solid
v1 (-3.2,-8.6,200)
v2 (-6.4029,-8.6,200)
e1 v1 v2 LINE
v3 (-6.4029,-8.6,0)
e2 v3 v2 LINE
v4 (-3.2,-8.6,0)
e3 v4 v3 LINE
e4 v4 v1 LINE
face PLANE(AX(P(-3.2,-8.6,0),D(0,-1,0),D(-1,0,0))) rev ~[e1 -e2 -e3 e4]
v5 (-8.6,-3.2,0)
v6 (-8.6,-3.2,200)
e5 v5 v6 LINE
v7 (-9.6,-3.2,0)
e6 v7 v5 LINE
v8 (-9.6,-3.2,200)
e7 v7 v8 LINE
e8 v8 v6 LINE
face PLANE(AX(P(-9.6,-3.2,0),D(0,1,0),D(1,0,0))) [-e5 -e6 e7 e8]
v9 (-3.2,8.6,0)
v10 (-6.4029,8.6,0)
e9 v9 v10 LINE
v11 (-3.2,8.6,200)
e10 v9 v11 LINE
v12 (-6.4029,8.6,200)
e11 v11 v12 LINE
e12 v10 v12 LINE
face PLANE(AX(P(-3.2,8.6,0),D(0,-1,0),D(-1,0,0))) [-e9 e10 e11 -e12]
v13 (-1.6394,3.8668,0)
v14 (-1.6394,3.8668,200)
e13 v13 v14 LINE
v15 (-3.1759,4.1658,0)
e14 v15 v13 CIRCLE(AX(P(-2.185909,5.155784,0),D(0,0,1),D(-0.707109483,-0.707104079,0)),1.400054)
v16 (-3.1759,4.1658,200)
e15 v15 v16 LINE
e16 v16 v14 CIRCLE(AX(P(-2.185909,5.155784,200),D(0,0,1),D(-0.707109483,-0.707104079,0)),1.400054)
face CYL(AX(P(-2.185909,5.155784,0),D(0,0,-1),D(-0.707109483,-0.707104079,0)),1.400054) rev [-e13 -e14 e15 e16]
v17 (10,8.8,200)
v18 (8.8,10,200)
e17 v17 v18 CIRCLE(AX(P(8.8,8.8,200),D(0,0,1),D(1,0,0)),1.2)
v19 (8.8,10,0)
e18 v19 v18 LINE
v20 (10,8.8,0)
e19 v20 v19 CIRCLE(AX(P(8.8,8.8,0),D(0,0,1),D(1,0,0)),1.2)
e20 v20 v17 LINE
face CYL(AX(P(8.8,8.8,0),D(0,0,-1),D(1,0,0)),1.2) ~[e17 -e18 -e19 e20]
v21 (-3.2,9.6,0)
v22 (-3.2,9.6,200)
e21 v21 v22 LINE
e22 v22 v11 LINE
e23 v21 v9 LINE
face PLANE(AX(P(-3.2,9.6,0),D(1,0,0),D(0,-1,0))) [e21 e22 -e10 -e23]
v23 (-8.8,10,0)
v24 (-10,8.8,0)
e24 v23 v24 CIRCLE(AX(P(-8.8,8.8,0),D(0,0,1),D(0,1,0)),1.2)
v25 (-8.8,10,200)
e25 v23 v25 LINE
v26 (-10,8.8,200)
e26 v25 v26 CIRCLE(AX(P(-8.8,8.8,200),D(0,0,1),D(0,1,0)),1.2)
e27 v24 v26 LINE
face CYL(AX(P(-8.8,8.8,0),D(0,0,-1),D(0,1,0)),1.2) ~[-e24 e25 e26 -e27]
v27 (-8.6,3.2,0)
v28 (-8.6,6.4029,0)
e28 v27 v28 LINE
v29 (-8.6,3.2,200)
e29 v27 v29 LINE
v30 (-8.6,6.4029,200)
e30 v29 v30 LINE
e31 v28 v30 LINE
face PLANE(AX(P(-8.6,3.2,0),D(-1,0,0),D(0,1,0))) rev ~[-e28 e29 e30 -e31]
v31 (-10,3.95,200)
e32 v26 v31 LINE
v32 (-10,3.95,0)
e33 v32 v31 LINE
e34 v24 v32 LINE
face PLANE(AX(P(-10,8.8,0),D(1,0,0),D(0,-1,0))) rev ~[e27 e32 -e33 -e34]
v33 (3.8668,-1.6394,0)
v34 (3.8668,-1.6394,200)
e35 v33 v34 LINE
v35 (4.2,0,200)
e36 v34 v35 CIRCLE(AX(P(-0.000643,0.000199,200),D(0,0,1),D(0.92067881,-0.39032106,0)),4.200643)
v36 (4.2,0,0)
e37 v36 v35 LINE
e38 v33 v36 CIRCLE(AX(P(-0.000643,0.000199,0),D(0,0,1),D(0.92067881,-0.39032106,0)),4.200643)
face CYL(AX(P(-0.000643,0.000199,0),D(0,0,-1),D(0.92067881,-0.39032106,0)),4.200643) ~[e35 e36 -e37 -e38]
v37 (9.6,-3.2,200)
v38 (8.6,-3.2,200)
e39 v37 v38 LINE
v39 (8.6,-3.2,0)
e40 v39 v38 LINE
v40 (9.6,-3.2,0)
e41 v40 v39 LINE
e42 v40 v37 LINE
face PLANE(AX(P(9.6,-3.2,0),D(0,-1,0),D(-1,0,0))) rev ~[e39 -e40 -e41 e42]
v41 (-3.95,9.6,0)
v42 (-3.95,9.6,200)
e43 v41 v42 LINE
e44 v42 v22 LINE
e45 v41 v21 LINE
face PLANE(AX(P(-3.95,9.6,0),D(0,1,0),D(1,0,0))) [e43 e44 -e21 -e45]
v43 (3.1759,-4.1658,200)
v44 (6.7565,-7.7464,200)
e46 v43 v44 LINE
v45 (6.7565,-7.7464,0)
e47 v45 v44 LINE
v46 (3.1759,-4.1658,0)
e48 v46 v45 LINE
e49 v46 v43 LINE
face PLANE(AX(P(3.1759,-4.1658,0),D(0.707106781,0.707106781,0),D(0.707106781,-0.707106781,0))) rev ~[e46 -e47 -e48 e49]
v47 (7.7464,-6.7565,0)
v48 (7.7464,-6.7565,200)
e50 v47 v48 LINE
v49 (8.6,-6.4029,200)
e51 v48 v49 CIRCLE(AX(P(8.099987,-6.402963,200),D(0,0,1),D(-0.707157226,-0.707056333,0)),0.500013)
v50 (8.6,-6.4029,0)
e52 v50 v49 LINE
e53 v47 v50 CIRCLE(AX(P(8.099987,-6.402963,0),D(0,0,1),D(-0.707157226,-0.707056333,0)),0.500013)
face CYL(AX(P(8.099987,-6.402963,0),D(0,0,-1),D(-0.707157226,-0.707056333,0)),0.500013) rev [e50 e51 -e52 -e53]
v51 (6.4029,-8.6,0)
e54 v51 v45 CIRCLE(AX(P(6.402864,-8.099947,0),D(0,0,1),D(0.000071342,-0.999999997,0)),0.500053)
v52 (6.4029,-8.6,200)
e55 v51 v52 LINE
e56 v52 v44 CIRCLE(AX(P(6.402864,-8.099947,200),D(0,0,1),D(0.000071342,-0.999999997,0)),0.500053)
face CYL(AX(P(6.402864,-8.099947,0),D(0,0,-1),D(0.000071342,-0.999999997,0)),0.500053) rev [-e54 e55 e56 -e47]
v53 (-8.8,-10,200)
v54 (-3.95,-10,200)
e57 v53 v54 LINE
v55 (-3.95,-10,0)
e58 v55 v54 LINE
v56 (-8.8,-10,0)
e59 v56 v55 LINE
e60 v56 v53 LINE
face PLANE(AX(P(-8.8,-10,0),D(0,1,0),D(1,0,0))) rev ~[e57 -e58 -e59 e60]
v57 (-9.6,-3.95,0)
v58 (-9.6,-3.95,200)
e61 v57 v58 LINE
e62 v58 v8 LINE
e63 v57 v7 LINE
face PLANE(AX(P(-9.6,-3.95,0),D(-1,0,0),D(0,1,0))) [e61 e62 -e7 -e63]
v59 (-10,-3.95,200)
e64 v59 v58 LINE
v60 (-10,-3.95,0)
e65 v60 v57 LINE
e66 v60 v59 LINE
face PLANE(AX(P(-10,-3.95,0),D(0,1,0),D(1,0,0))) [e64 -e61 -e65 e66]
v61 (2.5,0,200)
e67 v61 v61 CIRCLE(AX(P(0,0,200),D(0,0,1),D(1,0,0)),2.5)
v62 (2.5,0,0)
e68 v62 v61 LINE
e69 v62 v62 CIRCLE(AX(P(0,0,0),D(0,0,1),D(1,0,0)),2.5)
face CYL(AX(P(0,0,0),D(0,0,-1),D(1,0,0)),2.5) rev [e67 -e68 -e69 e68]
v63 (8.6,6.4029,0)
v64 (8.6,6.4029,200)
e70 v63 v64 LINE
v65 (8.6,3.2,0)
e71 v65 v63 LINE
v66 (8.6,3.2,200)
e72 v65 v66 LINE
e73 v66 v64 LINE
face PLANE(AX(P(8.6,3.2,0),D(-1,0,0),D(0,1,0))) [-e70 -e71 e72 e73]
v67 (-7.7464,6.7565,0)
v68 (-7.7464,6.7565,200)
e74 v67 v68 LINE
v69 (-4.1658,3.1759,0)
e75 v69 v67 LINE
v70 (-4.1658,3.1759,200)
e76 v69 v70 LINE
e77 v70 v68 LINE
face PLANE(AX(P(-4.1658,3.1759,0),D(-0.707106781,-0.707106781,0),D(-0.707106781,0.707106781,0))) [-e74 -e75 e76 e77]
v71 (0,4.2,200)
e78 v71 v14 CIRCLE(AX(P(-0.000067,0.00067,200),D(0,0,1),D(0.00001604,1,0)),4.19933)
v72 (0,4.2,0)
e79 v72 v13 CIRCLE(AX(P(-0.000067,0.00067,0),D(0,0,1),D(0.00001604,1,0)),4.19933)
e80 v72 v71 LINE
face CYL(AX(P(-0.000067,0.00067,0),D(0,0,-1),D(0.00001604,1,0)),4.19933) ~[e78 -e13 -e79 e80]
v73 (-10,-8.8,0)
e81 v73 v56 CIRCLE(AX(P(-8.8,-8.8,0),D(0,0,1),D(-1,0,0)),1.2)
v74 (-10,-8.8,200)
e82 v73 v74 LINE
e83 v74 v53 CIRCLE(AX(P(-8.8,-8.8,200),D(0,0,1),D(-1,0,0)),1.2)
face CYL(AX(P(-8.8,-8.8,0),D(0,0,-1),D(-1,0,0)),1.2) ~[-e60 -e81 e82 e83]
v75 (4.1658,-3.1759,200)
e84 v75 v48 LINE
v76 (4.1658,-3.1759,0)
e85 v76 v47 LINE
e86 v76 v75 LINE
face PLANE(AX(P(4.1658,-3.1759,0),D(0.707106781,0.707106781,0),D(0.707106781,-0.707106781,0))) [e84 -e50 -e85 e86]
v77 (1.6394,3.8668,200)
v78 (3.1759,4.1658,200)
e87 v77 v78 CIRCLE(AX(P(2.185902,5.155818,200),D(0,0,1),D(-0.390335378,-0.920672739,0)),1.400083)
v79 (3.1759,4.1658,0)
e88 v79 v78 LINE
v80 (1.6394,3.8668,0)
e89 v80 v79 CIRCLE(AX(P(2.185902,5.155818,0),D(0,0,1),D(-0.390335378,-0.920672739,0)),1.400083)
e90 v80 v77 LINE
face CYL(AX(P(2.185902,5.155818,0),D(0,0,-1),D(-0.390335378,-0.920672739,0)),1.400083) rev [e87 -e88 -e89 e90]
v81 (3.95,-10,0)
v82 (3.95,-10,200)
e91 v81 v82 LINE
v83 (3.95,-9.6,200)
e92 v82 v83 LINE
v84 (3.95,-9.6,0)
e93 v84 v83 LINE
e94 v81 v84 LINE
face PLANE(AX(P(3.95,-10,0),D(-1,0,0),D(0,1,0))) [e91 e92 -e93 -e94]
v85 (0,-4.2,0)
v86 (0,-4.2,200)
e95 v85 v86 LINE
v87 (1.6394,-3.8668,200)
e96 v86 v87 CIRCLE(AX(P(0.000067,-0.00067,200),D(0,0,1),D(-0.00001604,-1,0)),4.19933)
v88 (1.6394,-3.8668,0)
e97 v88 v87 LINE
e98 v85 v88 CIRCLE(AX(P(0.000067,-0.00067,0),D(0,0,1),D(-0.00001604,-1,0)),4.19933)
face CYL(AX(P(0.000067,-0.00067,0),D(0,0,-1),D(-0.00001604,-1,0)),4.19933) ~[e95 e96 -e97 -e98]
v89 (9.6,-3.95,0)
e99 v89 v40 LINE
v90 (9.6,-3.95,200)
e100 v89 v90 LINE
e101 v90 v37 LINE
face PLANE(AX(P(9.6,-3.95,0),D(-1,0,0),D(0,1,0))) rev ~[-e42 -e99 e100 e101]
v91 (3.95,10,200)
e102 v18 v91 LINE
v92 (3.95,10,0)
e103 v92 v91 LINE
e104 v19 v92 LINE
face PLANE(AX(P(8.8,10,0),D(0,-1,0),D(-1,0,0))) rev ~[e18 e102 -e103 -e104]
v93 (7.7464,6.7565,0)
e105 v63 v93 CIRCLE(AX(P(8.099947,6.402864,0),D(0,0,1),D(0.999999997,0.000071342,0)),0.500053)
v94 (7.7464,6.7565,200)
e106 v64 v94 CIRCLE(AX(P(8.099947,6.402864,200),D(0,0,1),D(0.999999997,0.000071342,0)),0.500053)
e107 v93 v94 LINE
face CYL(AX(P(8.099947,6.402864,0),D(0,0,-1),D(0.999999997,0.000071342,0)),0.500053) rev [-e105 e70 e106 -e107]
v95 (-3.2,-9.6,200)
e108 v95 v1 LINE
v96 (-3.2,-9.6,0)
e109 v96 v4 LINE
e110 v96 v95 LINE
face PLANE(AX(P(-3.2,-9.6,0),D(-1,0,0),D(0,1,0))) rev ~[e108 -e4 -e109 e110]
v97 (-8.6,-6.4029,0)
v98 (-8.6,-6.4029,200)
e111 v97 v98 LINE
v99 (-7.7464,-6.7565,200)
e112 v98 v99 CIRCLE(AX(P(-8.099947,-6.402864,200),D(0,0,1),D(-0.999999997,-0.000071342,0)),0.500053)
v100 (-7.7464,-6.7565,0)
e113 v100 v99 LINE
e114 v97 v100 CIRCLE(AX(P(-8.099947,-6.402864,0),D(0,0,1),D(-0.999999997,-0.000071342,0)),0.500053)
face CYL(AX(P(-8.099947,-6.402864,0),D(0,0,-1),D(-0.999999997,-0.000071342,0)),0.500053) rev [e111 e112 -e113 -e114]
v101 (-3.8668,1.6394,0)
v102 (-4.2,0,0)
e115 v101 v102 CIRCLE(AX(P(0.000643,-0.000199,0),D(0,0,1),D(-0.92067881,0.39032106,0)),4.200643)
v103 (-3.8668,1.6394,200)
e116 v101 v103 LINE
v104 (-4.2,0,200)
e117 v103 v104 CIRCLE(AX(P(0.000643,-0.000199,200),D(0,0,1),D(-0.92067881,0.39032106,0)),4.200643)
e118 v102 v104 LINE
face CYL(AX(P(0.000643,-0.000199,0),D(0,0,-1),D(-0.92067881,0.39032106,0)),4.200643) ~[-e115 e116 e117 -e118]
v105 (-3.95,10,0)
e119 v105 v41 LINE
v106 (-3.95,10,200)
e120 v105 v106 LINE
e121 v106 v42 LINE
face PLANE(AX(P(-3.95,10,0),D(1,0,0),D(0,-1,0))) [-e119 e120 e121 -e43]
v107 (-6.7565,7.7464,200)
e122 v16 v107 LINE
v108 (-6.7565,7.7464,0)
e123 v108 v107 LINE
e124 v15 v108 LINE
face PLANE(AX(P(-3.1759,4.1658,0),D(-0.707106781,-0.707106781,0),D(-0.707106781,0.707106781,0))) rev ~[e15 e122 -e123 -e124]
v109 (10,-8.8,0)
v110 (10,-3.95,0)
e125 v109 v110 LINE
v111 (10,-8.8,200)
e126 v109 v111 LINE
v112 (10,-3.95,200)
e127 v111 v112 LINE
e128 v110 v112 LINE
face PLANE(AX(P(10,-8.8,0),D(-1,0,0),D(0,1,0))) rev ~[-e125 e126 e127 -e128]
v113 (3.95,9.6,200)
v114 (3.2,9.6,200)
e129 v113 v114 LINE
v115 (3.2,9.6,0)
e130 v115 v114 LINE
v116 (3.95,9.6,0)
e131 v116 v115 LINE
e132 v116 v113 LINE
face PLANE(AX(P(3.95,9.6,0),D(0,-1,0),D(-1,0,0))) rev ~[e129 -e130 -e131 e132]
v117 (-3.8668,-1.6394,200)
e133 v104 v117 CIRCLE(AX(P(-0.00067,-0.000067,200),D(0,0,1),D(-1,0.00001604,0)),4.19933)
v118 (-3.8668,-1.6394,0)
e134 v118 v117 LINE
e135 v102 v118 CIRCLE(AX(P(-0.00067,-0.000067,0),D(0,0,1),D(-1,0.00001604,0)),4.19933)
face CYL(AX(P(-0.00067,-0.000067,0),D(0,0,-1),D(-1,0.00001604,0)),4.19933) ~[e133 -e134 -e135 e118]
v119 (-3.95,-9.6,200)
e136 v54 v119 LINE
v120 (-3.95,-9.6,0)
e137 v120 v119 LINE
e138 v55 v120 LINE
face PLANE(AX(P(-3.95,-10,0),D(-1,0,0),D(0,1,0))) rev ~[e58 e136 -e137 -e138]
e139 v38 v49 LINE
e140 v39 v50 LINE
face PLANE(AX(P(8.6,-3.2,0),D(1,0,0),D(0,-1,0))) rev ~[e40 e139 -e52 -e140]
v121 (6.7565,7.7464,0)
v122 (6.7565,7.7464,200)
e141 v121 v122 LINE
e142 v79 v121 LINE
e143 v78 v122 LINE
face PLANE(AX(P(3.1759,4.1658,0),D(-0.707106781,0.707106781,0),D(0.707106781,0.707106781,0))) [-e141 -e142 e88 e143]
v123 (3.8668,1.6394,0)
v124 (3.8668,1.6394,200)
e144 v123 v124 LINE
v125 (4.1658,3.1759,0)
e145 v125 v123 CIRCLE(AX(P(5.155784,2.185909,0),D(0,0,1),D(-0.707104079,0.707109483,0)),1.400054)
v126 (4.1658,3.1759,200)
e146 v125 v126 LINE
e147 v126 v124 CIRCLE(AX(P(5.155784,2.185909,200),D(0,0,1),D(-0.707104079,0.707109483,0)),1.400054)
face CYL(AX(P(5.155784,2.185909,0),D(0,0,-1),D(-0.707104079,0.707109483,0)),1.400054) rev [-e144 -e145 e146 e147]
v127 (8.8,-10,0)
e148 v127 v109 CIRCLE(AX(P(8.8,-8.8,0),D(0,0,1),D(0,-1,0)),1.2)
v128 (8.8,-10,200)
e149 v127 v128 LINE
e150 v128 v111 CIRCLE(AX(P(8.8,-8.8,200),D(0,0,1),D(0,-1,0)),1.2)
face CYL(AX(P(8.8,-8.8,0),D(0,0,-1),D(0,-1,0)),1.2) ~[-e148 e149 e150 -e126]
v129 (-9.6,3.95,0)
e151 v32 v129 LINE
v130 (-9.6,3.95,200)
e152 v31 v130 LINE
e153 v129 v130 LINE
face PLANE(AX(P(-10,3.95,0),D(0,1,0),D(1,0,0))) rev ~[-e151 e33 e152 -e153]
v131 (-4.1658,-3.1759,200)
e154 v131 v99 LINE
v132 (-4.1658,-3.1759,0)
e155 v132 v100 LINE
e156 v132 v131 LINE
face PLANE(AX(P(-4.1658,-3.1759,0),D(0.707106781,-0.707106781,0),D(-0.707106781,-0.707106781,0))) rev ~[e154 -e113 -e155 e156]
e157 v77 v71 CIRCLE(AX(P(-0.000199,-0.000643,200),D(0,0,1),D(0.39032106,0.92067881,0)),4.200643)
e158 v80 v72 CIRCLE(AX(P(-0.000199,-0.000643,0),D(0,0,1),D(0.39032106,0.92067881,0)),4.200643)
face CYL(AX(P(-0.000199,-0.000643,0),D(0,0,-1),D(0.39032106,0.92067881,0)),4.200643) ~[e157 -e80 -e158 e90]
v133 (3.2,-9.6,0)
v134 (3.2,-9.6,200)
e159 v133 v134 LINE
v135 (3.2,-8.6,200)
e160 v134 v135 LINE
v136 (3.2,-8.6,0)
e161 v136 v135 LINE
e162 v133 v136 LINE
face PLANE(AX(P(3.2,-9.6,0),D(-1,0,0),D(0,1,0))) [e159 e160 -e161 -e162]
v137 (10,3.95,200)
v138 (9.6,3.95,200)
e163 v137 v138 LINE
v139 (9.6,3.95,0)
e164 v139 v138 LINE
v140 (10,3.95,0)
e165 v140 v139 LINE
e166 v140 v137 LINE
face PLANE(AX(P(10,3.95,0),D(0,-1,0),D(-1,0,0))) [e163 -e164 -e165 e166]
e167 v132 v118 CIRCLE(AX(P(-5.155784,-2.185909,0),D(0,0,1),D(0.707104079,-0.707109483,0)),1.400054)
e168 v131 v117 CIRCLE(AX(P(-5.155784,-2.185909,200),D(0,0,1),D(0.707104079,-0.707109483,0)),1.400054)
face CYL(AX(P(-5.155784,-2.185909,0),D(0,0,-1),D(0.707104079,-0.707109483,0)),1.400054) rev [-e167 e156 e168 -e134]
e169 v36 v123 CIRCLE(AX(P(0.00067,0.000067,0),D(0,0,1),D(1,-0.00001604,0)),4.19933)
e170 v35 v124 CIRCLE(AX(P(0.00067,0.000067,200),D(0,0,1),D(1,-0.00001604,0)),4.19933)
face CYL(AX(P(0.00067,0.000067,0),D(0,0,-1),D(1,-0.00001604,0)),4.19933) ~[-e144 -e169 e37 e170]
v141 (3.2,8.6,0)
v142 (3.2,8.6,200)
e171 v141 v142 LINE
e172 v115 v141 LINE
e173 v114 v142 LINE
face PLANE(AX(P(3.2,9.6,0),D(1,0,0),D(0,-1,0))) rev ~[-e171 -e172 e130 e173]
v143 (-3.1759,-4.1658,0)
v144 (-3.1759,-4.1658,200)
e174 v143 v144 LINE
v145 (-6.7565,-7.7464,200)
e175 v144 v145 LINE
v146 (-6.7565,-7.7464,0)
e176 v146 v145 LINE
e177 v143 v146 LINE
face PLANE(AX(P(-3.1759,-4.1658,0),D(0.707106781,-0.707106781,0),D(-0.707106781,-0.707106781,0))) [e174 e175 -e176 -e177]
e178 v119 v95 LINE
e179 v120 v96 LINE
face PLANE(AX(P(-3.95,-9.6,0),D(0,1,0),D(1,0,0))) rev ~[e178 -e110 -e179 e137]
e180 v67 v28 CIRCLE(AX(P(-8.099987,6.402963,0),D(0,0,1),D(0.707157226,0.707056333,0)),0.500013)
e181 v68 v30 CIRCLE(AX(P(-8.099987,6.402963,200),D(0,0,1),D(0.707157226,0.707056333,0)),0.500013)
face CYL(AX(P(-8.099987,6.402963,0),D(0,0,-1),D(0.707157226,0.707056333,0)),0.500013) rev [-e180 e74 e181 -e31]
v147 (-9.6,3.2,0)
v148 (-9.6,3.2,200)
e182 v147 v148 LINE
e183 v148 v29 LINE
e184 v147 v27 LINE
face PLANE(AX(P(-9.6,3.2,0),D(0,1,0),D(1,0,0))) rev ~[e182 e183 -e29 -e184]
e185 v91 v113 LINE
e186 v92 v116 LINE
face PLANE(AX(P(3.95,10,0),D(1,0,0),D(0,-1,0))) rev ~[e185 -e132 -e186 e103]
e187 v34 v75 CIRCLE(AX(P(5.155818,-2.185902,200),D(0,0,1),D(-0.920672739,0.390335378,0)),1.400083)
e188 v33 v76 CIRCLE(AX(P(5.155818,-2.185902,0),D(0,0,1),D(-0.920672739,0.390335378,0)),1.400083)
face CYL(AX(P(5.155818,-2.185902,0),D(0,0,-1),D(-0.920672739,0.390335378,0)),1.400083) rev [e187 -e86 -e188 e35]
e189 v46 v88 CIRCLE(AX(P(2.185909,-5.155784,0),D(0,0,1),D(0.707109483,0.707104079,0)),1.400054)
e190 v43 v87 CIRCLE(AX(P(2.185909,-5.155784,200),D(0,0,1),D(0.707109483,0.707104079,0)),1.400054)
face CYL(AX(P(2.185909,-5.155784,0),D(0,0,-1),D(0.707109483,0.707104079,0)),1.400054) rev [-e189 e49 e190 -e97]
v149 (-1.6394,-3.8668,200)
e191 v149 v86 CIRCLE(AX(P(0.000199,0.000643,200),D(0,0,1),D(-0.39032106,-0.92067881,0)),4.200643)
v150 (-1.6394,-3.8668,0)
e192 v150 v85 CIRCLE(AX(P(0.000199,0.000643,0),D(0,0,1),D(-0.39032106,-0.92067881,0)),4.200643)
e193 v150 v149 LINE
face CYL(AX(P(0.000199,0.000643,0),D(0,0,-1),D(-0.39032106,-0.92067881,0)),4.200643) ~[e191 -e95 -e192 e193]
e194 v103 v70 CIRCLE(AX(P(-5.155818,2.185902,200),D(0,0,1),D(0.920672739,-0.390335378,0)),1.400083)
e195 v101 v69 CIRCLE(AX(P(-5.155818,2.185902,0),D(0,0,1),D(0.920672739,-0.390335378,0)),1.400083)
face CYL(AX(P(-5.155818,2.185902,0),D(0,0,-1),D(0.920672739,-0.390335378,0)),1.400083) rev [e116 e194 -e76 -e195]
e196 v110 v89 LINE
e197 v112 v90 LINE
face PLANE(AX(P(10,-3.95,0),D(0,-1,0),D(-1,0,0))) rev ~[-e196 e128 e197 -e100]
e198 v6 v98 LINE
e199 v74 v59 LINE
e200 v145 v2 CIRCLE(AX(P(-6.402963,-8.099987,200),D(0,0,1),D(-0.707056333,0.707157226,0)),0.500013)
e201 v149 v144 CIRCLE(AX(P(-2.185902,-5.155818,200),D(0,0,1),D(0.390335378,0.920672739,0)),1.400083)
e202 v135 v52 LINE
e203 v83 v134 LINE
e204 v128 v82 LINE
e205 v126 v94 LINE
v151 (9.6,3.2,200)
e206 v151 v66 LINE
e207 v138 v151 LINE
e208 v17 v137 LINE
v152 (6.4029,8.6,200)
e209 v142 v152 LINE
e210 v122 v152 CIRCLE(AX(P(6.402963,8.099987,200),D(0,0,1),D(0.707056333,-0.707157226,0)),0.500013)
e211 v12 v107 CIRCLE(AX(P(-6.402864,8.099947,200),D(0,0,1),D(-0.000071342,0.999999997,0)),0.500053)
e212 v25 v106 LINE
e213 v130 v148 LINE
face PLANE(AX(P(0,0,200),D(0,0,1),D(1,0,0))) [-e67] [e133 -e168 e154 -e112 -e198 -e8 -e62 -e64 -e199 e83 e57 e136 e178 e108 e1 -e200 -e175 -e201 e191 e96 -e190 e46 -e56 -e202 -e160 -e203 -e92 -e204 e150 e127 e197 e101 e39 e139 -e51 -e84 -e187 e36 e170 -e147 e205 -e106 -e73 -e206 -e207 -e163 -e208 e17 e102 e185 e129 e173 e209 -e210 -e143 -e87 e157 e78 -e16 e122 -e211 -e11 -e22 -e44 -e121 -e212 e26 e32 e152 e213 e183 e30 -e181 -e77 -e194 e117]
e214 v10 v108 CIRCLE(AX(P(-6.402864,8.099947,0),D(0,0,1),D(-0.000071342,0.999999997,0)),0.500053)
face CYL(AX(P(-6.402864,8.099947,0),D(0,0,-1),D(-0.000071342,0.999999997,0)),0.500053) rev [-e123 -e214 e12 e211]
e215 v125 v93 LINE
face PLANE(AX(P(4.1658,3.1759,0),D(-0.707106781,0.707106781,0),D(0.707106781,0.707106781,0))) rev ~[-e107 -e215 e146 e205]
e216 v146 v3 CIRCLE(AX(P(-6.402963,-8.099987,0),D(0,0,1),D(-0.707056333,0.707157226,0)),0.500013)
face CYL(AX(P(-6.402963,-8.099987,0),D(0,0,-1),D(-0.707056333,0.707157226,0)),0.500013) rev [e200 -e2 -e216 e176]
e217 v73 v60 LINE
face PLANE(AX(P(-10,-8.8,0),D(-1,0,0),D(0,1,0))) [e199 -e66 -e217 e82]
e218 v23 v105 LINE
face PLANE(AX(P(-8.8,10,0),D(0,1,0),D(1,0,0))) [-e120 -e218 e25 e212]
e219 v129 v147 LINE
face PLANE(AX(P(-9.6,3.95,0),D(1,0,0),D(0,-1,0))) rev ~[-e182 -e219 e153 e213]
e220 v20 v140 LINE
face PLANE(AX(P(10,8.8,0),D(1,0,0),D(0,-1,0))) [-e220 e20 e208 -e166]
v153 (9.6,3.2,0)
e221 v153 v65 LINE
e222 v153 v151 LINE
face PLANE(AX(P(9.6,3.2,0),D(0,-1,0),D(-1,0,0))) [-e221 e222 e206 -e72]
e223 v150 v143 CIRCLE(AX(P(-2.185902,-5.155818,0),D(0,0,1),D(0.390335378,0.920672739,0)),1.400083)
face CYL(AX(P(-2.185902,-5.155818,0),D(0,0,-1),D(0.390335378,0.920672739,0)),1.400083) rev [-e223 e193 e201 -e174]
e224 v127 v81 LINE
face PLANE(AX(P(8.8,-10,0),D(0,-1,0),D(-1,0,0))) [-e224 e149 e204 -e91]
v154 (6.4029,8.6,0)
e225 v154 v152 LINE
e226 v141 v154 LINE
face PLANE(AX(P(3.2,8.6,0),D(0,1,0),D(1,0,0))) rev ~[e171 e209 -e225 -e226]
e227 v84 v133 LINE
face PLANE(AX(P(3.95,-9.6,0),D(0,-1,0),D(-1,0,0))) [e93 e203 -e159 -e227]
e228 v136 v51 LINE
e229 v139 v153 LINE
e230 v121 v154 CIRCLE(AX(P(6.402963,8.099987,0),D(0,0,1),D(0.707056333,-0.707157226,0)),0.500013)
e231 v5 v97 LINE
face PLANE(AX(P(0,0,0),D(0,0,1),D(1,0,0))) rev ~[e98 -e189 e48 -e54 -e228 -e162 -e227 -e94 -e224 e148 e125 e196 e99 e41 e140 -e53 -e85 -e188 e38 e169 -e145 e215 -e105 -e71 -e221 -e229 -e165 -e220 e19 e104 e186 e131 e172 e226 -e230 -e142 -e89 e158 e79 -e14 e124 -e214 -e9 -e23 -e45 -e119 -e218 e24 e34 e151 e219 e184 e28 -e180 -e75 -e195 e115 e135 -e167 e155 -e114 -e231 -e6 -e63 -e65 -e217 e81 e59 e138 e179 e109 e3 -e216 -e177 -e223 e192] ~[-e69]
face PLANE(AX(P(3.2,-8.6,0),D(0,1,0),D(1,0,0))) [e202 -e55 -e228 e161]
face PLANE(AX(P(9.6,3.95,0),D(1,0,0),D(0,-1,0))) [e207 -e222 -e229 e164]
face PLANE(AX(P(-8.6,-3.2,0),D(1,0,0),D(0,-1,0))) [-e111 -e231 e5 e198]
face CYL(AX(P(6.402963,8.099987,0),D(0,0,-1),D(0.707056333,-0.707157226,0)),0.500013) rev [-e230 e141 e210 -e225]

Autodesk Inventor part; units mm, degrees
ref_plane "YZ Plane" through (0, 0, 0) normal (1, 0, 0) x (0, 1, 0)
ref_plane "Start Plane" through (0, 0, 0) normal (0, 0, 1) x (1, 0, 0)
ref_plane "End Plane" through (0, 0, 200) normal (0, 0, 1) x (1, 0, 0)
sketch "Sketch" plane through (0, 0, 0) normal (0, 0, 1) x (1, 0, 0)
  circle A0 centre (0, 0) radius 2.5
  circle A1 centre (0, 0) radius 4.2 construction
  line L0 (10, -10) -> (-10, -10) construction
  line L1 (-10, -10) -> (-10, 10) construction
  line L2 (-10, 10) -> (10, 10) construction
  line L3 (10, 10) -> (10, -10) construction
  line L4 (10, -10) -> (-10, 10) construction
  line L5 (-10, -10) -> (10, 10) construction
  line L6 (-4.1658, 3.1759) -> (-7.7464, 6.7565)
  line L7 (-10, 8.8) -> (-10, 3.95)
  line L8 (-10, 3.95) -> (-9.6, 3.95)
  line L9 (-9.6, 3.95) -> (-9.6, 3.2)
  line L10 (-9.6, 3.2) -> (-8.6, 3.2)
  line L11 (-8.6, 3.2) -> (-8.6, 6.4029)
  line L12 (-10, 0) -> (0, 0) construction
  line L13 (-8.8, 10) -> (-3.95, 10)
  line L14 (-3.95, 10) -> (-3.95, 9.6)
  line L15 (-3.95, 9.6) -> (-3.2, 9.6)
  line L16 (-3.2, 9.6) -> (-3.2, 8.6)
  line L17 (-3.2, 8.6) -> (-6.4029, 8.6)
  arc A2 (-8.8, 10) -> (-10, 8.8) centre (-8.8, 8.8) ccw
  arc A3 (-6.4029, 8.6) -> (-6.7565, 7.7464) centre (-6.4029, 8.1) ccw
  arc A4 (-7.7464, 6.7565) -> (-8.6, 6.4029) centre (-8.1, 6.4029) ccw
  arc A5 (-3.8668, 1.6394) -> (-4.2, 0) centre (0, 0) ccw
  arc A6 (-3.8668, 1.6394) -> (-4.1658, 3.1759) centre (-5.1558, 2.1859) ccw
  line L18 (-3.1759, 4.1658) -> (-6.7565, 7.7464)
  arc A7 (0, 4.2) -> (-1.6394, 3.8668) centre (0, 0) ccw
  arc A8 (-3.1759, 4.1658) -> (-1.6394, 3.8668) centre (-2.1859, 5.1558) ccw
  line L19 (-3.2, -9.6) -> (-3.2, -8.6)
  line L20 (-3.2, -8.6) -> (-6.4029, -8.6)
  line L21 (-8.8, -10) -> (-3.95, -10)
  arc A9 (-1.6394, -3.8668) -> (-3.1759, -4.1658) centre (-2.1859, -5.1558) ccw
  line L22 (-3.1759, -4.1658) -> (-6.7565, -7.7464)
  line L23 (0, -10) -> (0, 0) construction
  arc A10 (-4.1658, -3.1759) -> (-3.8668, -1.6394) centre (-5.1558, -2.1859) ccw
  line L24 (-4.1658, -3.1759) -> (-7.7464, -6.7565)
  line L25 (-3.95, -9.6) -> (-3.2, -9.6)
  line L26 (-3.95, -10) -> (-3.95, -9.6)
  arc A11 (-1.6394, -3.8668) -> (0, -4.2) centre (0, 0) ccw
  arc A12 (-4.2, 0) -> (-3.8668, -1.6394) centre (0, 0) ccw
  line L27 (-9.6, -3.95) -> (-9.6, -3.2)
  arc A13 (-6.7565, -7.7464) -> (-6.4029, -8.6) centre (-6.4029, -8.1) ccw
  arc A14 (-8.6, -6.4029) -> (-7.7464, -6.7565) centre (-8.1, -6.4029) ccw
  line L28 (-8.6, -3.2) -> (-8.6, -6.4029)
  line L29 (-9.6, -3.2) -> (-8.6, -3.2)
  line L30 (-10, -3.95) -> (-9.6, -3.95)
  line L31 (-10, -8.8) -> (-10, -3.95)
  arc A15 (-10, -8.8) -> (-8.8, -10) centre (-8.8, -8.8) ccw
  line L32 (9.6, -3.2) -> (8.6, -3.2)
  line L33 (8.6, -3.2) -> (8.6, -6.4029)
  line L34 (10, -8.8) -> (10, -3.95)
  arc A16 (3.8668, -1.6394) -> (4.1658, -3.1759) centre (5.1558, -2.1859) ccw
  line L35 (4.1658, -3.1759) -> (7.7464, -6.7565)
  line L36 (10, 0) -> (0, 0) construction
  arc A17 (3.1759, -4.1658) -> (1.6394, -3.8668) centre (2.1859, -5.1558) ccw
  line L37 (3.1759, -4.1658) -> (6.7565, -7.7464)
  line L38 (9.6, -3.95) -> (9.6, -3.2)
  line L39 (10, -3.95) -> (9.6, -3.95)
  arc A18 (3.8668, -1.6394) -> (4.2, 0) centre (0, 0) ccw
  arc A19 (0, -4.2) -> (1.6394, -3.8668) centre (0, 0) ccw
  line L40 (3.95, -9.6) -> (3.2, -9.6)
  arc A20 (7.7464, -6.7565) -> (8.6, -6.4029) centre (8.1, -6.4029) ccw
  arc A21 (6.4029, -8.6) -> (6.7565, -7.7464) centre (6.4029, -8.1) ccw
  line L41 (3.2, -8.6) -> (6.4029, -8.6)
  line L42 (3.2, -9.6) -> (3.2, -8.6)
  line L43 (3.95, -10) -> (3.95, -9.6)
  line L44 (8.8, -10) -> (3.95, -10)
  arc A22 (8.8, -10) -> (10, -8.8) centre (8.8, -8.8) ccw
  line L45 (3.2, 9.6) -> (3.2, 8.6)
  line L46 (3.2, 8.6) -> (6.4029, 8.6)
  line L47 (8.8, 10) -> (3.95, 10)
  arc A23 (1.6394, 3.8668) -> (3.1759, 4.1658) centre (2.1859, 5.1558) ccw
  line L48 (3.1759, 4.1658) -> (6.7565, 7.7464)
  line L49 (0, 10) -> (0, 0) construction
  arc A24 (4.1658, 3.1759) -> (3.8668, 1.6394) centre (5.1558, 2.1859) ccw
  line L50 (4.1658, 3.1759) -> (7.7464, 6.7565)
  line L51 (3.95, 9.6) -> (3.2, 9.6)
  line L52 (3.95, 10) -> (3.95, 9.6)
  arc A25 (1.6394, 3.8668) -> (0, 4.2) centre (0, 0) ccw
  arc A26 (4.2, 0) -> (3.8668, 1.6394) centre (0, 0) ccw
  line L53 (9.6, 3.95) -> (9.6, 3.2)
  arc A27 (6.7565, 7.7464) -> (6.4029, 8.6) centre (6.4029, 8.1) ccw
  arc A28 (8.6, 6.4029) -> (7.7464, 6.7565) centre (8.1, 6.4029) ccw
  line L54 (8.6, 3.2) -> (8.6, 6.4029)
  line L55 (9.6, 3.2) -> (8.6, 3.2)
  line L56 (10, 3.95) -> (9.6, 3.95)
  line L57 (10, 8.8) -> (10, 3.95)
  arc A29 (10, 8.8) -> (8.8, 10) centre (8.8, 8.8) ccw
  point P0 (-3.4233, 2.4333)
  point P1 (-8.6, 7.6101)
  point P2 (-7.6101, 8.6)
  point P3 (-7.6101, -8.6)
  point P4 (-10, -10)
  point P5 (-2.4333, -3.4233)
  point P6 (-8.6, -7.6101)
  point P7 (8.6, -7.6101)
  point P8 (10, -10)
  point P9 (3.4233, -2.4333)
  point P10 (7.6101, -8.6)
  point P11 (7.6101, 8.6)
  point P12 (10, 10)
  point P13 (2.4333, 3.4233)
  point P14 (8.6, 7.6101)
  point P15 (-4.2, 0)
  point P16 (0, -4.2)
  point P17 (4.2, 0)
  point P18 (0, 4.2)
  dimension "d8" = 5
  dimension "d9" = 8.4
  dimension "d10" = 20
  dimension "d11" = 20
  dimension "d13" = 1.4
  dimension "d14" = 3.2
  dimension "d15" = 3.95
  dimension "d16" = 0.4
  dimension "d18" = 1.2
  dimension "d19" = 0.5
  dimension "d20" = 1.4
  dimension "d21" = 1.4
  dimension "d24" = 360
extrude "Body" add sketch "Sketch" along normal up to surface (200 mm away) from surface at 0
sketch "Sketch11" plane through (0, 0, 0) normal (0, 0, 1) x (1, 0, 0)
  line L0 (0, 0) -> (10, 0)
ref_plane "Work Plane11" through (0, 0, 0) normal (0, -1, 0) x (1, 0, 0)
sketch "Sketch12" plane through (0, 0, 0) normal (0, -1, 0) x (1, 0, 0)
  line L0 (-2, 0) -> (12, 0)
  line L1 (-2, 200) -> (12, 200)
  dimension "d53" = 200
equation "\"G_OFFSET_START\" = 0"
equation "\"G_OFFSET_END\" = 0"
equation "\"G_L\" = d53"
equation "\"G_OFFSET_START1\" = 0"
equation "\"G_OFFSET_END1\" = 0"
equation "\"G_OFFSET_START2\" = 0"
equation "\"G_OFFSET_END2\" = 0"
properties part number "2020Profile" material "Aluminum 6061"
